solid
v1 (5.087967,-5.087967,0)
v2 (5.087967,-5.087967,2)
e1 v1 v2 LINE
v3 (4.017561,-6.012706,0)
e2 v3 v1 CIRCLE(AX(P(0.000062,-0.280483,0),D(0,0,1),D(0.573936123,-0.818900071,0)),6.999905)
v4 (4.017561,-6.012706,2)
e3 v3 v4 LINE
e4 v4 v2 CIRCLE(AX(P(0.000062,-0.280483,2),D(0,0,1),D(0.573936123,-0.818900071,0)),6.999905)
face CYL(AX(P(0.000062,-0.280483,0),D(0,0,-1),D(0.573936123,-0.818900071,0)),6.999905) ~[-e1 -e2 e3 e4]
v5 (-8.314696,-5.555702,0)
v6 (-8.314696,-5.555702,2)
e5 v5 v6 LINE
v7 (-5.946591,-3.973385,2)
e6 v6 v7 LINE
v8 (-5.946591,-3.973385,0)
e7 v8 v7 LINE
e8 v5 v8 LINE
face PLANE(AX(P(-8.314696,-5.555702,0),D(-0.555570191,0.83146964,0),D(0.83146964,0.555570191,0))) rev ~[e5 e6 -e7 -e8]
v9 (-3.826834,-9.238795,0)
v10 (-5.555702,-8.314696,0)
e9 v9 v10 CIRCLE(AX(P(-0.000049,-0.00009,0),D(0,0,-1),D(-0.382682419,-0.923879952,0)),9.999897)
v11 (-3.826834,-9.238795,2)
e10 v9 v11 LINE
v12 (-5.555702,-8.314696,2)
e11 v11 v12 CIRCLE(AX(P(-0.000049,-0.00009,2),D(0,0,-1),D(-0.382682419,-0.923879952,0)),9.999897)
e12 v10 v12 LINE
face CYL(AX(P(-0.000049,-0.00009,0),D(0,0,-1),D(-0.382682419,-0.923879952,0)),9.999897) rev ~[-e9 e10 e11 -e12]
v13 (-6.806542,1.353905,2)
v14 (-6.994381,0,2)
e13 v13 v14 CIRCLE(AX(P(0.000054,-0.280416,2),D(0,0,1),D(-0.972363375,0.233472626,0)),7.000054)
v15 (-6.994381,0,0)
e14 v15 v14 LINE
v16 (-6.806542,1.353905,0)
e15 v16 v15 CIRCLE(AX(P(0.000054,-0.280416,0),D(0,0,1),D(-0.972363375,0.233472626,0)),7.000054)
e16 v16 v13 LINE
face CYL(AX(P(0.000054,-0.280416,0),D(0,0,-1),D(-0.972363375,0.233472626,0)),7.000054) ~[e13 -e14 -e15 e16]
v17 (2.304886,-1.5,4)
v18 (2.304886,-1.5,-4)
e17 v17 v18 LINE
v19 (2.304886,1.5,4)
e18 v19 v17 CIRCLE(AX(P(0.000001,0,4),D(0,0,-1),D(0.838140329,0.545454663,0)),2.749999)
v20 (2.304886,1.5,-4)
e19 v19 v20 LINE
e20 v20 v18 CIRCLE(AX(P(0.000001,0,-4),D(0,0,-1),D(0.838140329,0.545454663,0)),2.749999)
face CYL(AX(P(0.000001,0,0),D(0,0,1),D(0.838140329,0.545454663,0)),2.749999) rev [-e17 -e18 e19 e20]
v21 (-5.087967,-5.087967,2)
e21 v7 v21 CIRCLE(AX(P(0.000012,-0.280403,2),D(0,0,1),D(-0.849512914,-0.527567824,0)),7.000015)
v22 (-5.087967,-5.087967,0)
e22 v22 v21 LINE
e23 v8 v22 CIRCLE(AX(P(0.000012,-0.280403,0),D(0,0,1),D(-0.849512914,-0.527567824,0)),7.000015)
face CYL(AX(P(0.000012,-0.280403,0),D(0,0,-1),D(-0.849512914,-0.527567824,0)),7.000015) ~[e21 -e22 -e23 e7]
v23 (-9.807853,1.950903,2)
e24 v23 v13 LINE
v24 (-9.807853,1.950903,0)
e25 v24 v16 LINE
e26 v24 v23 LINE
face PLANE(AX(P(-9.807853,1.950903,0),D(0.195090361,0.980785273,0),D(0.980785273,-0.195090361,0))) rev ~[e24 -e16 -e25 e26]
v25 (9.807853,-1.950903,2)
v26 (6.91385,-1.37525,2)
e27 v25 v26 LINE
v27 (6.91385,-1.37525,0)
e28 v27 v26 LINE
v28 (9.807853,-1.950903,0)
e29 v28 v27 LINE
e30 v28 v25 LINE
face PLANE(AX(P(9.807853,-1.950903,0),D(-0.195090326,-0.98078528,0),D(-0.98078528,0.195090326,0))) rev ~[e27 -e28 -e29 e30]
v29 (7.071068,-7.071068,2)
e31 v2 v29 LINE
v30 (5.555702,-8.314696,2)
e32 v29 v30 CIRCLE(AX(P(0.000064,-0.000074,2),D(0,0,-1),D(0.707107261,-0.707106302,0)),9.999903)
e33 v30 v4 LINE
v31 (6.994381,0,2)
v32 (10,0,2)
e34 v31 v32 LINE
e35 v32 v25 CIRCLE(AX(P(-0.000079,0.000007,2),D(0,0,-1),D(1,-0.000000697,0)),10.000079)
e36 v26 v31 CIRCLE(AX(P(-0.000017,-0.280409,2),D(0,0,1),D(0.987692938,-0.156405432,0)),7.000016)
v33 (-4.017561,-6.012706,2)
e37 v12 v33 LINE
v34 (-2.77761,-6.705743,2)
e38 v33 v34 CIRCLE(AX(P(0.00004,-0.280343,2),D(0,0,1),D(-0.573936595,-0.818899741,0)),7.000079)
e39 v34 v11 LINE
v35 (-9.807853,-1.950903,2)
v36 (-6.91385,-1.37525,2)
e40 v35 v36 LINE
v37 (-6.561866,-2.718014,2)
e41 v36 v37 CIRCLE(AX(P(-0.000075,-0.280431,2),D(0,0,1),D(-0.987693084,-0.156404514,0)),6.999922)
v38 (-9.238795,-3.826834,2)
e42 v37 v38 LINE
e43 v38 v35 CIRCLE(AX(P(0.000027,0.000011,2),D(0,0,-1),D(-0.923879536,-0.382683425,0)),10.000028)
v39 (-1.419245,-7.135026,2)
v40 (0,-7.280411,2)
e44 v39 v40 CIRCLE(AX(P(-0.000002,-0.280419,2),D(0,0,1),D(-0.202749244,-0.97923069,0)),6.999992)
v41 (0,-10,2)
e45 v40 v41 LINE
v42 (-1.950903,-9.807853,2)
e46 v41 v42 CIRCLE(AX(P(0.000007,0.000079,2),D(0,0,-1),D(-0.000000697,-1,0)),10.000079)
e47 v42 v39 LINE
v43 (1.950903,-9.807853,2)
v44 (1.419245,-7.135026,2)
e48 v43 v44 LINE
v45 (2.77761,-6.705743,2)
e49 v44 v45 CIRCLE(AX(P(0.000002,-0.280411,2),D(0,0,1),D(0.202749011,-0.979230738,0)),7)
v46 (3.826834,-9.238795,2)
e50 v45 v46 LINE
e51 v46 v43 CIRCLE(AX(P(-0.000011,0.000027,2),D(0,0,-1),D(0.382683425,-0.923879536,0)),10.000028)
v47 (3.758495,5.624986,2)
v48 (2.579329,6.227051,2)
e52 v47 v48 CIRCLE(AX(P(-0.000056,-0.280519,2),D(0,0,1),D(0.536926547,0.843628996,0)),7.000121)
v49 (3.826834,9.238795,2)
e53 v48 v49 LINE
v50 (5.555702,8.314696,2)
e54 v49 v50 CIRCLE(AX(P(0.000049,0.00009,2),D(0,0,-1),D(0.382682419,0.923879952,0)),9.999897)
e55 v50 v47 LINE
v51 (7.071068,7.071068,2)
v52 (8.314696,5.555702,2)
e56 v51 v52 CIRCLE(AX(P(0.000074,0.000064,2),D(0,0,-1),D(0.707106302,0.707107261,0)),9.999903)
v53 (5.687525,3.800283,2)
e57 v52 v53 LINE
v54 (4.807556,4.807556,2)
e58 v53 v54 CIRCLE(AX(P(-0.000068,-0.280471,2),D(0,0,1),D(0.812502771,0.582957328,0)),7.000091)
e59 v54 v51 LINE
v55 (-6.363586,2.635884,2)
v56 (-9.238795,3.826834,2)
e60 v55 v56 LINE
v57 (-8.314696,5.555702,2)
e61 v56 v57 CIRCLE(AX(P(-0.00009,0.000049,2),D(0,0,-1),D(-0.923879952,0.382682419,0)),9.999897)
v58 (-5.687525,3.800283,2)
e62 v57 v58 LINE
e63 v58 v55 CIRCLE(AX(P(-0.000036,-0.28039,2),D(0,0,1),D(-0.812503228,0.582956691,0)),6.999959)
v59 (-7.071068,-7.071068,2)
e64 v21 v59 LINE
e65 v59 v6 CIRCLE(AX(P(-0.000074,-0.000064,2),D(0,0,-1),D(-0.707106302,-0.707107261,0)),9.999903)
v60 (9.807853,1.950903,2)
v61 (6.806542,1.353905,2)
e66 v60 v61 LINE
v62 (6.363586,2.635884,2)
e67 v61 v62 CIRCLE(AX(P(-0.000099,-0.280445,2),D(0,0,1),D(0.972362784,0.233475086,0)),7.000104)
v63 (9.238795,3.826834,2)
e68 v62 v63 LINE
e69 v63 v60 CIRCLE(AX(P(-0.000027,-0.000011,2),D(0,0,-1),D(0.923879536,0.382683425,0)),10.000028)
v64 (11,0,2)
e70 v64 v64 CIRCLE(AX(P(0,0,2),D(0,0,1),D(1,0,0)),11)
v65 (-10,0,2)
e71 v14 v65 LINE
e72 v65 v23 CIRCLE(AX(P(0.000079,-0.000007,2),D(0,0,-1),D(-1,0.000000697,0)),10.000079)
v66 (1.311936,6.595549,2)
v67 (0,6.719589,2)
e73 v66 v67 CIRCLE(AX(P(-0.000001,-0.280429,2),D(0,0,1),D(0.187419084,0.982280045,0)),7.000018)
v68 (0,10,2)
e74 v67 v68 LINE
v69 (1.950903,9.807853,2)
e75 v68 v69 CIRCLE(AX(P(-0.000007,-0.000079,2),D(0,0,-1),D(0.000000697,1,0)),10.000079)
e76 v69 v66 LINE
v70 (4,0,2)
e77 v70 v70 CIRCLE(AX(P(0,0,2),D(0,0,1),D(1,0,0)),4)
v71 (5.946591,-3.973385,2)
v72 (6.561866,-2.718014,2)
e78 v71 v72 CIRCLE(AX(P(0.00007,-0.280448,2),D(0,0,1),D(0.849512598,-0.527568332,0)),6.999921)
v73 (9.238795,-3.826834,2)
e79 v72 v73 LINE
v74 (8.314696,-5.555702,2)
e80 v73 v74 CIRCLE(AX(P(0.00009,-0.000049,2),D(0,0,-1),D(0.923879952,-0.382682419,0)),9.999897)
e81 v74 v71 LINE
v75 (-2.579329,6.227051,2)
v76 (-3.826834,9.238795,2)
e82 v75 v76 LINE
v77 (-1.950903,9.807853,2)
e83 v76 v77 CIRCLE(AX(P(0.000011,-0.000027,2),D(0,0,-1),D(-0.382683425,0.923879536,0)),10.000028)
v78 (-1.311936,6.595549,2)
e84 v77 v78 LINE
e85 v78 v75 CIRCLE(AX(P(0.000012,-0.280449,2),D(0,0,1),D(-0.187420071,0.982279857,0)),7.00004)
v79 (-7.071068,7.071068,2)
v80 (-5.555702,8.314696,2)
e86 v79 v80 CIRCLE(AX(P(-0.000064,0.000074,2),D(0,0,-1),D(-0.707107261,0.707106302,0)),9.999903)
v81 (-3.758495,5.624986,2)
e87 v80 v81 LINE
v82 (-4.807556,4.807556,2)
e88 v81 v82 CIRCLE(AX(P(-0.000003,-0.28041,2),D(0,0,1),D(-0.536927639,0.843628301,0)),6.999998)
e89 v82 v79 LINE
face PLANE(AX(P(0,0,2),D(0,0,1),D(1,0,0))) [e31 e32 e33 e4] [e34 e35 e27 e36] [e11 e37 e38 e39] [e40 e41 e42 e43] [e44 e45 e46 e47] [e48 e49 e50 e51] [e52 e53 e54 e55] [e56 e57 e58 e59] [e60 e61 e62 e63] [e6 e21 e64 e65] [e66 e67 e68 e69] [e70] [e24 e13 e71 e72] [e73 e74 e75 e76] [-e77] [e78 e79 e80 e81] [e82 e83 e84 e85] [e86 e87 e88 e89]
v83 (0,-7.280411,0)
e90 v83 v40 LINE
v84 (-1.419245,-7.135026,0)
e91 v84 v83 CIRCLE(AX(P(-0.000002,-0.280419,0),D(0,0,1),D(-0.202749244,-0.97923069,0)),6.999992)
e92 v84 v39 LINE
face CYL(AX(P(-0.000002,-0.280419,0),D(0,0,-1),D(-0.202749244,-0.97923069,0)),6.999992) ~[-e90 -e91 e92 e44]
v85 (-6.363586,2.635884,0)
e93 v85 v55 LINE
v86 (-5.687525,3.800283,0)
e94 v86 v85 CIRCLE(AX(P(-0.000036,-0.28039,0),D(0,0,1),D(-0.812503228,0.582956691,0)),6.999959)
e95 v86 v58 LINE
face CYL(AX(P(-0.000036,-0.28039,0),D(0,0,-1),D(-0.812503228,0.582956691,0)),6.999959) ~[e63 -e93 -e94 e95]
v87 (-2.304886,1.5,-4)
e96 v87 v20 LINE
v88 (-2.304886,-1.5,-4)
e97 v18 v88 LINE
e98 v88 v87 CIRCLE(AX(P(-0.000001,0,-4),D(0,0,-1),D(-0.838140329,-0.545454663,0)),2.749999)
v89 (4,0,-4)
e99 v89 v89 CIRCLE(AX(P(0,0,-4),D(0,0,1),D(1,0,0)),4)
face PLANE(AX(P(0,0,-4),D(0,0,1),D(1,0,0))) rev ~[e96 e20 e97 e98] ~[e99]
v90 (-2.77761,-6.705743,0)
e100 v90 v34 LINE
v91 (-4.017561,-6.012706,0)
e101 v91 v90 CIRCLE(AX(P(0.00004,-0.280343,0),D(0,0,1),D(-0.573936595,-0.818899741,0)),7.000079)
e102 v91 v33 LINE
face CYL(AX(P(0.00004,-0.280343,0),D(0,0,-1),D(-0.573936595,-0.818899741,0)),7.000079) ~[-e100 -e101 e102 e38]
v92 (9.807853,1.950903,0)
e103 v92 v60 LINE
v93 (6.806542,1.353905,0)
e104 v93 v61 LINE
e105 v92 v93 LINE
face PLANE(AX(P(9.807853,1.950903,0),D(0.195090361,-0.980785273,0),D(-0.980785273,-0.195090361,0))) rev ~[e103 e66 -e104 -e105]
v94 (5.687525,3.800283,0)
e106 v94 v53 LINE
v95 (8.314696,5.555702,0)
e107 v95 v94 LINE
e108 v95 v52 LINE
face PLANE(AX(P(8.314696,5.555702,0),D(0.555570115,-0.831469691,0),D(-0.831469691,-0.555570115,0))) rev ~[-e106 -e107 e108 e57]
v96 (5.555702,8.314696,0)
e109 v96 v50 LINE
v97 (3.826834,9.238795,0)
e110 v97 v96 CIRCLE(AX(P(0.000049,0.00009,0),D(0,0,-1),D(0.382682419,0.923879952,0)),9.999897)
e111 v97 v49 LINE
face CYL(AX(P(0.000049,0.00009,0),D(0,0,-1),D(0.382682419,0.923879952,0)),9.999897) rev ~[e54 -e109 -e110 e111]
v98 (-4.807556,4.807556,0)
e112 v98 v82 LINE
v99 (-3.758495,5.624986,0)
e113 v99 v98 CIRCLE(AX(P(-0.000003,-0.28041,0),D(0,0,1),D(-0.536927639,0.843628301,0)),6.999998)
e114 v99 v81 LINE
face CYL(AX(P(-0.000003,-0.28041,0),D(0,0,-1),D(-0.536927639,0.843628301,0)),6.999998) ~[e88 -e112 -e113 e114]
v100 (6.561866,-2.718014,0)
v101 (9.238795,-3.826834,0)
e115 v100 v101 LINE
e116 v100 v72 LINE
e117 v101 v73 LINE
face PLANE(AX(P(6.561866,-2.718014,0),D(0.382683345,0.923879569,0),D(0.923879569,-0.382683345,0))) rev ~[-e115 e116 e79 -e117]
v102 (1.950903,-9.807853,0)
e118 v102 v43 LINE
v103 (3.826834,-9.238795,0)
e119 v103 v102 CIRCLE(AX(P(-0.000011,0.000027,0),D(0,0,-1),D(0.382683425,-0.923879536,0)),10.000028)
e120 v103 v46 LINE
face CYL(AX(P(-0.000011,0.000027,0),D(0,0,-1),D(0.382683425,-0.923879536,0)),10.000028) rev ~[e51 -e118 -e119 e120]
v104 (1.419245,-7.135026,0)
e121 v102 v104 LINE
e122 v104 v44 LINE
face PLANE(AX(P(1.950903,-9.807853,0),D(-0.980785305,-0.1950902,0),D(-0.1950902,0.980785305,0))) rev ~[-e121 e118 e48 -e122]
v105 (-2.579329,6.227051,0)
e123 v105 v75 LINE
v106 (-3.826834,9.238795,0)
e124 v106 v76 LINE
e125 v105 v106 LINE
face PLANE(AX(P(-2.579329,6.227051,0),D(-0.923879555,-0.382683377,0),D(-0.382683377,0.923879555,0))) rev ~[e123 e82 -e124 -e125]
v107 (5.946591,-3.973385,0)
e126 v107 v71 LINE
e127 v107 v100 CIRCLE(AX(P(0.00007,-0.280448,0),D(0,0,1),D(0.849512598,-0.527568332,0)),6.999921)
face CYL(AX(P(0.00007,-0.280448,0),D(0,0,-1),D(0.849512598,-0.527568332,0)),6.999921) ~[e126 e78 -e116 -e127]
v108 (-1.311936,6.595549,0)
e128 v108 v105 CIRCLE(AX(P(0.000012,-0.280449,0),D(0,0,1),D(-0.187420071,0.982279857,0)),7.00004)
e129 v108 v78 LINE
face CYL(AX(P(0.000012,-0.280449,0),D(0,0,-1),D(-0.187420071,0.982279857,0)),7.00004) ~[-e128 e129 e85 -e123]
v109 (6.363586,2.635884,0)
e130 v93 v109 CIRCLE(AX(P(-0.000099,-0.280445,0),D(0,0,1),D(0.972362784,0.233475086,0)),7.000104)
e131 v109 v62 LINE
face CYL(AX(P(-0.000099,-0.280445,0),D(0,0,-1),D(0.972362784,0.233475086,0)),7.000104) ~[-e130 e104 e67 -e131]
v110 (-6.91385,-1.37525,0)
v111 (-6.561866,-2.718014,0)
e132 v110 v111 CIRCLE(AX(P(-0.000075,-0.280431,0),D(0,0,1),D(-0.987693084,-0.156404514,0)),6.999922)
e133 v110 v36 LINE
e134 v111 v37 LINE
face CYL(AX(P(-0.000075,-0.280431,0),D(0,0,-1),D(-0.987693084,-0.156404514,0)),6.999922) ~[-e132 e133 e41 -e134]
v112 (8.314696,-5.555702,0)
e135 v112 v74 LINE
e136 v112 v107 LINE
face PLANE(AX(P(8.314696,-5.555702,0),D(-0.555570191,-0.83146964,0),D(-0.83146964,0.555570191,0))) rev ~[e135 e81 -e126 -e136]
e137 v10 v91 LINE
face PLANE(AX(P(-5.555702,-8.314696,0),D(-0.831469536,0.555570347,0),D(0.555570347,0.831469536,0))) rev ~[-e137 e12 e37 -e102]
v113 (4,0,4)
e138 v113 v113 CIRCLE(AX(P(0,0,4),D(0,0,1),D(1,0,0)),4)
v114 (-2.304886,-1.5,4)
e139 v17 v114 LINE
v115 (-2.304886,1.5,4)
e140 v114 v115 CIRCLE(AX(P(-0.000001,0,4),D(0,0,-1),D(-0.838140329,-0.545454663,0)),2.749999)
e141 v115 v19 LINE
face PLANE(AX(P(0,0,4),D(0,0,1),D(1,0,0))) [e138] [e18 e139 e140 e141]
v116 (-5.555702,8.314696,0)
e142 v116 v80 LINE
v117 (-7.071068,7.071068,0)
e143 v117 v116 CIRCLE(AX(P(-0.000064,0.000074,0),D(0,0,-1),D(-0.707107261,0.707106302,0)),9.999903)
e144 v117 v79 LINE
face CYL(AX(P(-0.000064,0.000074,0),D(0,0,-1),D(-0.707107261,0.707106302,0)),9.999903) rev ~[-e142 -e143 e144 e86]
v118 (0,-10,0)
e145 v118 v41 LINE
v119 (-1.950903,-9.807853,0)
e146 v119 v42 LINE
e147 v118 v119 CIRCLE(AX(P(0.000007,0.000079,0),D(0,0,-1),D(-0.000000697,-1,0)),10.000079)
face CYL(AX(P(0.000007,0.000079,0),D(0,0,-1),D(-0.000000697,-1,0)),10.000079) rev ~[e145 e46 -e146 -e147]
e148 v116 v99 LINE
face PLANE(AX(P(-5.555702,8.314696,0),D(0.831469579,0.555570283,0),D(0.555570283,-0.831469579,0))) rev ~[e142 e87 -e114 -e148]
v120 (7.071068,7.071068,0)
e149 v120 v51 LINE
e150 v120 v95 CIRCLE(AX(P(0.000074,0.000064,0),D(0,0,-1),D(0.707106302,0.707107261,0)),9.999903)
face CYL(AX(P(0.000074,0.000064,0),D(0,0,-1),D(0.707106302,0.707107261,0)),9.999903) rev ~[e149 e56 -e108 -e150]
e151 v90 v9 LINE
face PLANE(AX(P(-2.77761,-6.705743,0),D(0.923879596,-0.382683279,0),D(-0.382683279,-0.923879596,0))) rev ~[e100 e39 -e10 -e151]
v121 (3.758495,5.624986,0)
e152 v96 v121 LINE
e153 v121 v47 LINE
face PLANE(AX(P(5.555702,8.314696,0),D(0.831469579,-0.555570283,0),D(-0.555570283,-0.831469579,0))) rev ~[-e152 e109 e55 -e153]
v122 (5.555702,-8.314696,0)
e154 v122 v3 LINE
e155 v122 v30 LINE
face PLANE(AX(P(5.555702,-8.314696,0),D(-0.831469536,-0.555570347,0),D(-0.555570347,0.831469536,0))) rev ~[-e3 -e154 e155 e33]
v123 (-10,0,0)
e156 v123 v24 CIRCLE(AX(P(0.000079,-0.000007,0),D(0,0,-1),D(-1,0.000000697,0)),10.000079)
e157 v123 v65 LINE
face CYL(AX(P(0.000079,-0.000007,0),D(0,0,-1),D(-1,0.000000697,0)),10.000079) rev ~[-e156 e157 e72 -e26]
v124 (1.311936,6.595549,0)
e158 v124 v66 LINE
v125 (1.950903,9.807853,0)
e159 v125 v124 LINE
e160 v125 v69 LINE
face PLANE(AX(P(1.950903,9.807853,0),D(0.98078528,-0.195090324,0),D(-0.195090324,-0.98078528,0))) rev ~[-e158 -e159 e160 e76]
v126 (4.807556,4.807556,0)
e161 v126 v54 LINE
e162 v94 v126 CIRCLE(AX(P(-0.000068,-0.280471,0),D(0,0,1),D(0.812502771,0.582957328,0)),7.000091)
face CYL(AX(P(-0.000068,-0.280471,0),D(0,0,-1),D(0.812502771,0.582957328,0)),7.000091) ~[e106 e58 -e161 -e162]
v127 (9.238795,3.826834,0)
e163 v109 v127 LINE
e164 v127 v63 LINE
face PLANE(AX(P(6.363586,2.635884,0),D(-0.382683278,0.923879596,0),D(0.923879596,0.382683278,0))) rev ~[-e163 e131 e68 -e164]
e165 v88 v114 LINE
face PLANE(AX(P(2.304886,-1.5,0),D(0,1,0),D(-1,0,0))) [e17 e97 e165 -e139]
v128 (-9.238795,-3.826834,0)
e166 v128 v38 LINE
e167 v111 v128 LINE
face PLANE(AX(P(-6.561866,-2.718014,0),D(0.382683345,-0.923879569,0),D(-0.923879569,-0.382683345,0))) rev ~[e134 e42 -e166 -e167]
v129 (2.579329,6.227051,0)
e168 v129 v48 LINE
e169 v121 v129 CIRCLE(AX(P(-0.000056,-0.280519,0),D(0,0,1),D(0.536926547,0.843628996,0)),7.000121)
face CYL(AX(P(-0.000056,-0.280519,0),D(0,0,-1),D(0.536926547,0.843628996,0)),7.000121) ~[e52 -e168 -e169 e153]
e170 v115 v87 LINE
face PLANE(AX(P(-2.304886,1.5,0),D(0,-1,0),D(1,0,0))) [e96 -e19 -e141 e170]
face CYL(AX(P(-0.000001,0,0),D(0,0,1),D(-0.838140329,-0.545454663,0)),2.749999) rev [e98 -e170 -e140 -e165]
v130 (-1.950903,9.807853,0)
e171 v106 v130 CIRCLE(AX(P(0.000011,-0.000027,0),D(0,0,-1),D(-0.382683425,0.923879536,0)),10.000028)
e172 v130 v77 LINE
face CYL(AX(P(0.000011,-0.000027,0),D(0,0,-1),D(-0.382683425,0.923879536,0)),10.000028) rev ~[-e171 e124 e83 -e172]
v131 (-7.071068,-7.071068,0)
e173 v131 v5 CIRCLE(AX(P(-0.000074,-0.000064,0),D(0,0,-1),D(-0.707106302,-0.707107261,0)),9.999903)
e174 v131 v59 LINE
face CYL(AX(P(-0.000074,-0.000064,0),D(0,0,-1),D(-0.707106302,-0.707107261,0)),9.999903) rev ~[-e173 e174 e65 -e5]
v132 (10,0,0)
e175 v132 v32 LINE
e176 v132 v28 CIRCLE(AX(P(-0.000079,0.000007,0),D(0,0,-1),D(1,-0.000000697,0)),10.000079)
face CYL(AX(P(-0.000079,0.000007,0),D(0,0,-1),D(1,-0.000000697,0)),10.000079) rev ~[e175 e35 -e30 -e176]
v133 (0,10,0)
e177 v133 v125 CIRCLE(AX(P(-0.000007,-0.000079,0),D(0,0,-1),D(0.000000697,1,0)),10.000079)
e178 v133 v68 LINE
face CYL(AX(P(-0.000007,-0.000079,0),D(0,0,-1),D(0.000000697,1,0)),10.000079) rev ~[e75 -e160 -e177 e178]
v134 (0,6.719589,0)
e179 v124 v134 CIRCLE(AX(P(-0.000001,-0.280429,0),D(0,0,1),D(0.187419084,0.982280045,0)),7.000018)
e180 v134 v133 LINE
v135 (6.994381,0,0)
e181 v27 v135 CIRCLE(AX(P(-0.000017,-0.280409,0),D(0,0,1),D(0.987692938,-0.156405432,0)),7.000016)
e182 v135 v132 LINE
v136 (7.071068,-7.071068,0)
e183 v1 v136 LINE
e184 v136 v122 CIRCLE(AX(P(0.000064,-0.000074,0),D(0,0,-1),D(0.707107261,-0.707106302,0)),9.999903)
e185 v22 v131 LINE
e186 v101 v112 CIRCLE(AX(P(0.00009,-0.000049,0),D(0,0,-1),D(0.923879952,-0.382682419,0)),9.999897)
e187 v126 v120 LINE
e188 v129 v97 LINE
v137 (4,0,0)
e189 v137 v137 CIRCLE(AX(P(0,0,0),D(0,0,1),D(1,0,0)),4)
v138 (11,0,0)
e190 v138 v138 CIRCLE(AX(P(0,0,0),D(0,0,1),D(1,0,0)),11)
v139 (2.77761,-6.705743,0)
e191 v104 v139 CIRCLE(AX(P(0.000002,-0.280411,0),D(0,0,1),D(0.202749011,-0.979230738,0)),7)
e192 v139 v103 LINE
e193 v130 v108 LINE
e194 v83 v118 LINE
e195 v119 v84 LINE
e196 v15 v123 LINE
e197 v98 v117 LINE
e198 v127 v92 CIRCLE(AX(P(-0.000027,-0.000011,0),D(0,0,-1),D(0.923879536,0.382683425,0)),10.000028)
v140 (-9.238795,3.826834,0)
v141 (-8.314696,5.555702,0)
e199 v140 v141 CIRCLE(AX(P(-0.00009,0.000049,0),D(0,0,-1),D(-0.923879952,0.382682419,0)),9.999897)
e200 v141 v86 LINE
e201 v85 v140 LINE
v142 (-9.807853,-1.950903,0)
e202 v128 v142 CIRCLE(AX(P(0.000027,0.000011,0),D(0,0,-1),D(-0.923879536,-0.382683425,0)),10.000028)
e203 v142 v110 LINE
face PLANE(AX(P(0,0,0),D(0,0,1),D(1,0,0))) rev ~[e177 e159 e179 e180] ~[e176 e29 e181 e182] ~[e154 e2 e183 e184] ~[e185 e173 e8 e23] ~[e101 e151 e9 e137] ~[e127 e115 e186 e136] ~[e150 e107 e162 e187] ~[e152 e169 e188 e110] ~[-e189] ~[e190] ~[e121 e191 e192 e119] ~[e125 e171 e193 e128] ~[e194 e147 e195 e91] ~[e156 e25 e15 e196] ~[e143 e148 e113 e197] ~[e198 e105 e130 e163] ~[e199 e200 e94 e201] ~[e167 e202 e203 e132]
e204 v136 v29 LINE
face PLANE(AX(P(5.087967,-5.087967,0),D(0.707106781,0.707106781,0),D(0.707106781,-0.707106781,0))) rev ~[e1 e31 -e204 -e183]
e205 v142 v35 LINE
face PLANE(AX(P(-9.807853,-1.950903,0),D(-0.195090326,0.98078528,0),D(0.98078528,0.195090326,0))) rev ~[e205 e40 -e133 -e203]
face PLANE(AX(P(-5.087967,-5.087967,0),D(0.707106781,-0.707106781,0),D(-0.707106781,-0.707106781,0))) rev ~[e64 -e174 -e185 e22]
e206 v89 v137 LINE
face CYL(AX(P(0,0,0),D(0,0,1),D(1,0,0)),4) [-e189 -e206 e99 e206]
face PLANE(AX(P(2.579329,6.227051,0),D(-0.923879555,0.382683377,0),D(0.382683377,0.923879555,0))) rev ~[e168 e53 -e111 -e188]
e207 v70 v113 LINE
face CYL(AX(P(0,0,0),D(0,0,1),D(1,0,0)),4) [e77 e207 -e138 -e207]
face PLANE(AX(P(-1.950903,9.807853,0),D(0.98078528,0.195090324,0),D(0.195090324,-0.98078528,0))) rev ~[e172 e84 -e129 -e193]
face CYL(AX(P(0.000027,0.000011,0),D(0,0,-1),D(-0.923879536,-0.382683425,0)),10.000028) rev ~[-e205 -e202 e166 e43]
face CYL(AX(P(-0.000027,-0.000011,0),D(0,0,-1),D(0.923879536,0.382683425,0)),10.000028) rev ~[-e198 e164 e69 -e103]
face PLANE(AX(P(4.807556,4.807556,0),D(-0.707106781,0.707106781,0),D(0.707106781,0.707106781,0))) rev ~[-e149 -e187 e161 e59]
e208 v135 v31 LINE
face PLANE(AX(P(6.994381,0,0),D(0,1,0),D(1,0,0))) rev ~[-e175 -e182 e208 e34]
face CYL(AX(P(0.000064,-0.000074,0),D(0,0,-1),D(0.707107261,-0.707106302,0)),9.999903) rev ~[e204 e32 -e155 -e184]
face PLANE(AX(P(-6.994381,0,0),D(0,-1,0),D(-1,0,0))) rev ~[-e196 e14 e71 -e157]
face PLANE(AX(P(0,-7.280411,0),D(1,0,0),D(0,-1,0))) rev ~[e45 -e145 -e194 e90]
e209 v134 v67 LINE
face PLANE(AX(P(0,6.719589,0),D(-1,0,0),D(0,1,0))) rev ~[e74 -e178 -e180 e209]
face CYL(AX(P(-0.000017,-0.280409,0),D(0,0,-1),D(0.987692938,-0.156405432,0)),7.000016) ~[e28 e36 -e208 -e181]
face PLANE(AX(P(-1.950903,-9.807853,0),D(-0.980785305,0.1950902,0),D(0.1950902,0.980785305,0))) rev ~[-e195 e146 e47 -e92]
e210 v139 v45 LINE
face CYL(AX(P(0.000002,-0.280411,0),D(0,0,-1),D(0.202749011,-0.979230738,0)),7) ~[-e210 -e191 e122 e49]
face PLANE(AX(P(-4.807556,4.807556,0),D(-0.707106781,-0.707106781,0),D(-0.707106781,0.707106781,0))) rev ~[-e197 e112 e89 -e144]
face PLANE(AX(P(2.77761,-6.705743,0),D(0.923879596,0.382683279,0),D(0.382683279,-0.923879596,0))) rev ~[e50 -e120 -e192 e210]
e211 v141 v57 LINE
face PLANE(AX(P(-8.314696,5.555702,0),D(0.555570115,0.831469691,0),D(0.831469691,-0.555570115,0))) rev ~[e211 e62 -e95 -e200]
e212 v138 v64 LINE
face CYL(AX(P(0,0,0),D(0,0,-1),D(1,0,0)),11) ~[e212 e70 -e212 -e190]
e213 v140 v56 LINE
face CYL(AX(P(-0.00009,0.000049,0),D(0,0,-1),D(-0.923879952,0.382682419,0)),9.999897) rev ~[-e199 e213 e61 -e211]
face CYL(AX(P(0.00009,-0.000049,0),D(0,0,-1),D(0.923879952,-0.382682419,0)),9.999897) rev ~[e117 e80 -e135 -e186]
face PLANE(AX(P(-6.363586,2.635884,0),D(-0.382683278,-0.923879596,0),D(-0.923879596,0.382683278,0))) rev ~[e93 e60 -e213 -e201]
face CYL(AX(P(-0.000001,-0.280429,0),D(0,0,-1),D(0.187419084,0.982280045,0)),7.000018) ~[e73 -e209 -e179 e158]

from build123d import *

# Parameters (mm, degrees)
F0_R     = 4
F1_DEPTH = 4
F0_R_2   = 11
F2_DEPTH = 2


with BuildPart() as f1:
    # F0 (on Top) → F1 (new body, symmetric)
    with BuildSketch(Plane.XY):
        Circle(F0_R)
        with BuildLine():
            ThreePointArc((-2.304886, -1.5), (-2.75, 0), (-2.304886, 1.5))
            Line((-2.304886, 1.5), (2.304886, 1.5))
            ThreePointArc((2.304886, 1.5), (2.75, 0), (2.304886, -1.5))
            Line((2.304886, -1.5), (-2.304886, -1.5))
        make_face(mode=Mode.SUBTRACT)
    extrude(amount=F1_DEPTH, both=True)

    # F0 (on Top) → F2 (join)
    with BuildSketch(Plane.XY):
        Circle(F0_R_2)
        with BuildLine():
            Line((-8.314696, -5.555702), (-5.946591, -3.973385))
            ThreePointArc((-5.946591, -3.973385), (-5.545353, -4.552303), (-5.087967, -5.087967))
            Line((-5.087967, -5.087967), (-7.071068, -7.071068))
            ThreePointArc((-7.071068, -7.071068), (-7.730105, -6.343933), (-8.314696, -5.555702))
        make_face(mode=Mode.SUBTRACT)
        with BuildLine():
            ThreePointArc((0, -10), (-0.980171, -9.951847), (-1.950903, -9.807853))
            Line((-1.950903, -9.807853), (-1.419245, -7.135026))
            ThreePointArc((-1.419245, -7.135026), (-0.713336, -7.24397), (0, -7.280411))
            Line((0, -7.280411), (0, -10))
        make_face(mode=Mode.SUBTRACT)
        with BuildLine():
            Line((-5.555702, -8.314696), (-4.017561, -6.012706))
            ThreePointArc((-4.017561, -6.012706), (-3.41521, -6.390758), (-2.77761, -6.705743))
            Line((-2.77761, -6.705743), (-3.826834, -9.238795))
            ThreePointArc((-3.826834, -9.238795), (-4.713967, -8.819213), (-5.555702, -8.314696))
        make_face(mode=Mode.SUBTRACT)
        with BuildLine():
            Line((-9.807853, -1.950903), (-6.91385, -1.37525))
            ThreePointArc((-6.91385, -1.37525), (-6.771225, -2.055379), (-6.561866, -2.718014))
            Line((-6.561866, -2.718014), (-9.238795, -3.826834))
            ThreePointArc((-9.238795, -3.826834), (-9.569403, -2.902847), (-9.807853, -1.950903))
        make_face(mode=Mode.SUBTRACT)
        with BuildLine():
            Line((1.950903, -9.807853), (1.419245, -7.135026))
            ThreePointArc((1.419245, -7.135026), (2.109376, -6.95503), (2.77761, -6.705743))
            Line((2.77761, -6.705743), (3.826834, -9.238795))
            ThreePointArc((3.826834, -9.238795), (2.902847, -9.569403), (1.950903, -9.807853))
        make_face(mode=Mode.SUBTRACT)
        with BuildLine():
            Line((5.555702, -8.314696), (4.017561, -6.012706))
            ThreePointArc((4.017561, -6.012706), (4.576183, -5.577444), (5.087967, -5.087967))
            Line((5.087967, -5.087967), (7.071068, -7.071068))
            ThreePointArc((7.071068, -7.071068), (6.343933, -7.730105), (5.555702, -8.314696))
        make_face(mode=Mode.SUBTRACT)
        with BuildLine():
            Line((8.314696, -5.555702), (5.946591, -3.973385))
            ThreePointArc((5.946591, -3.973385), (6.285648, -3.361098), (6.561866, -2.718014))
            Line((6.561866, -2.718014), (9.238795, -3.826834))
            ThreePointArc((9.238795, -3.826834), (8.819213, -4.713967), (8.314696, -5.555702))
        make_face(mode=Mode.SUBTRACT)
        with BuildLine():
            Line((9.807853, -1.950903), (6.91385, -1.37525))
            ThreePointArc((6.91385, -1.37525), (6.988029, -0.689611), (6.994381, 0))
            Line((6.994381, 0), (10, 0))
            ThreePointArc((10, 0), (9.951847, -0.980171), (9.807853, -1.950903))
        make_face(mode=Mode.SUBTRACT)
        with BuildLine():
            Line((-9.807853, 1.950903), (-6.806542, 1.353905))
            ThreePointArc((-6.806542, 1.353905), (-6.933587, 0.681549), (-6.994381, 0))
            Line((-6.994381, 0), (-10, 0))
            ThreePointArc((-10, 0), (-9.951847, 0.980171), (-9.807853, 1.950903))
        make_face(mode=Mode.SUBTRACT)
        with BuildLine():
            Line((-8.314696, 5.555702), (-5.687525, 3.800283))
            ThreePointArc((-5.687525, 3.800283), (-6.053617, 3.234376), (-6.363586, 2.635884))
            Line((-6.363586, 2.635884), (-9.238795, 3.826834))
            ThreePointArc((-9.238795, 3.826834), (-8.819213, 4.713967), (-8.314696, 5.555702))
        make_face(mode=Mode.SUBTRACT)
        with BuildLine():
            Line((-5.555702, 8.314696), (-3.758495, 5.624986))
            ThreePointArc((-3.758495, 5.624986), (-4.302483, 5.241241), (-4.807556, 4.807556))
            Line((-4.807556, 4.807556), (-7.071068, 7.071068))
            ThreePointArc((-7.071068, 7.071068), (-6.343933, 7.730105), (-5.555702, 8.314696))
        make_face(mode=Mode.SUBTRACT)
        with BuildLine():
            Line((-1.950903, 9.807853), (-1.311936, 6.595549))
            ThreePointArc((-1.311936, 6.595549), (-1.954337, 6.441238), (-2.579329, 6.227051))
            Line((-2.579329, 6.227051), (-3.826834, 9.238795))
            ThreePointArc((-3.826834, 9.238795), (-2.902847, 9.569403), (-1.950903, 9.807853))
        make_face(mode=Mode.SUBTRACT)
        Circle(F0_R, mode=Mode.SUBTRACT)
        with BuildLine():
            Line((9.807853, 1.950903), (6.806542, 1.353905))
            ThreePointArc((6.806542, 1.353905), (6.616187, 2.005648), (6.363586, 2.635884))
            Line((6.363586, 2.635884), (9.238795, 3.826834))
            ThreePointArc((9.238795, 3.826834), (9.569403, 2.902847), (9.807853, 1.950903))
        make_face(mode=Mode.SUBTRACT)
        with BuildLine():
            Line((8.314696, 5.555702), (5.687525, 3.800283))
            ThreePointArc((5.687525, 3.800283), (5.271653, 4.324985), (4.807556, 4.807556))
            Line((4.807556, 4.807556), (7.071068, 7.071068))
            ThreePointArc((7.071068, 7.071068), (7.730105, 6.343933), (8.314696, 5.555702))
        make_face(mode=Mode.SUBTRACT)
        with BuildLine():
            Line((5.555702, 8.314696), (3.758495, 5.624986))
            ThreePointArc((3.758495, 5.624986), (3.183178, 5.953959), (2.579329, 6.227051))
            Line((2.579329, 6.227051), (3.826834, 9.238795))
            ThreePointArc((3.826834, 9.238795), (4.713967, 8.819213), (5.555702, 8.314696))
        make_face(mode=Mode.SUBTRACT)
        with BuildLine():
            Line((1.950903, 9.807853), (1.311936, 6.595549))
            ThreePointArc((1.311936, 6.595549), (0.658893, 6.68851), (0, 6.719589))
            Line((0, 6.719589), (0, 10))
            ThreePointArc((0, 10), (0.980171, 9.951847), (1.950903, 9.807853))
        make_face(mode=Mode.SUBTRACT)
    extrude(amount=F2_DEPTH)


solid = f1.part
